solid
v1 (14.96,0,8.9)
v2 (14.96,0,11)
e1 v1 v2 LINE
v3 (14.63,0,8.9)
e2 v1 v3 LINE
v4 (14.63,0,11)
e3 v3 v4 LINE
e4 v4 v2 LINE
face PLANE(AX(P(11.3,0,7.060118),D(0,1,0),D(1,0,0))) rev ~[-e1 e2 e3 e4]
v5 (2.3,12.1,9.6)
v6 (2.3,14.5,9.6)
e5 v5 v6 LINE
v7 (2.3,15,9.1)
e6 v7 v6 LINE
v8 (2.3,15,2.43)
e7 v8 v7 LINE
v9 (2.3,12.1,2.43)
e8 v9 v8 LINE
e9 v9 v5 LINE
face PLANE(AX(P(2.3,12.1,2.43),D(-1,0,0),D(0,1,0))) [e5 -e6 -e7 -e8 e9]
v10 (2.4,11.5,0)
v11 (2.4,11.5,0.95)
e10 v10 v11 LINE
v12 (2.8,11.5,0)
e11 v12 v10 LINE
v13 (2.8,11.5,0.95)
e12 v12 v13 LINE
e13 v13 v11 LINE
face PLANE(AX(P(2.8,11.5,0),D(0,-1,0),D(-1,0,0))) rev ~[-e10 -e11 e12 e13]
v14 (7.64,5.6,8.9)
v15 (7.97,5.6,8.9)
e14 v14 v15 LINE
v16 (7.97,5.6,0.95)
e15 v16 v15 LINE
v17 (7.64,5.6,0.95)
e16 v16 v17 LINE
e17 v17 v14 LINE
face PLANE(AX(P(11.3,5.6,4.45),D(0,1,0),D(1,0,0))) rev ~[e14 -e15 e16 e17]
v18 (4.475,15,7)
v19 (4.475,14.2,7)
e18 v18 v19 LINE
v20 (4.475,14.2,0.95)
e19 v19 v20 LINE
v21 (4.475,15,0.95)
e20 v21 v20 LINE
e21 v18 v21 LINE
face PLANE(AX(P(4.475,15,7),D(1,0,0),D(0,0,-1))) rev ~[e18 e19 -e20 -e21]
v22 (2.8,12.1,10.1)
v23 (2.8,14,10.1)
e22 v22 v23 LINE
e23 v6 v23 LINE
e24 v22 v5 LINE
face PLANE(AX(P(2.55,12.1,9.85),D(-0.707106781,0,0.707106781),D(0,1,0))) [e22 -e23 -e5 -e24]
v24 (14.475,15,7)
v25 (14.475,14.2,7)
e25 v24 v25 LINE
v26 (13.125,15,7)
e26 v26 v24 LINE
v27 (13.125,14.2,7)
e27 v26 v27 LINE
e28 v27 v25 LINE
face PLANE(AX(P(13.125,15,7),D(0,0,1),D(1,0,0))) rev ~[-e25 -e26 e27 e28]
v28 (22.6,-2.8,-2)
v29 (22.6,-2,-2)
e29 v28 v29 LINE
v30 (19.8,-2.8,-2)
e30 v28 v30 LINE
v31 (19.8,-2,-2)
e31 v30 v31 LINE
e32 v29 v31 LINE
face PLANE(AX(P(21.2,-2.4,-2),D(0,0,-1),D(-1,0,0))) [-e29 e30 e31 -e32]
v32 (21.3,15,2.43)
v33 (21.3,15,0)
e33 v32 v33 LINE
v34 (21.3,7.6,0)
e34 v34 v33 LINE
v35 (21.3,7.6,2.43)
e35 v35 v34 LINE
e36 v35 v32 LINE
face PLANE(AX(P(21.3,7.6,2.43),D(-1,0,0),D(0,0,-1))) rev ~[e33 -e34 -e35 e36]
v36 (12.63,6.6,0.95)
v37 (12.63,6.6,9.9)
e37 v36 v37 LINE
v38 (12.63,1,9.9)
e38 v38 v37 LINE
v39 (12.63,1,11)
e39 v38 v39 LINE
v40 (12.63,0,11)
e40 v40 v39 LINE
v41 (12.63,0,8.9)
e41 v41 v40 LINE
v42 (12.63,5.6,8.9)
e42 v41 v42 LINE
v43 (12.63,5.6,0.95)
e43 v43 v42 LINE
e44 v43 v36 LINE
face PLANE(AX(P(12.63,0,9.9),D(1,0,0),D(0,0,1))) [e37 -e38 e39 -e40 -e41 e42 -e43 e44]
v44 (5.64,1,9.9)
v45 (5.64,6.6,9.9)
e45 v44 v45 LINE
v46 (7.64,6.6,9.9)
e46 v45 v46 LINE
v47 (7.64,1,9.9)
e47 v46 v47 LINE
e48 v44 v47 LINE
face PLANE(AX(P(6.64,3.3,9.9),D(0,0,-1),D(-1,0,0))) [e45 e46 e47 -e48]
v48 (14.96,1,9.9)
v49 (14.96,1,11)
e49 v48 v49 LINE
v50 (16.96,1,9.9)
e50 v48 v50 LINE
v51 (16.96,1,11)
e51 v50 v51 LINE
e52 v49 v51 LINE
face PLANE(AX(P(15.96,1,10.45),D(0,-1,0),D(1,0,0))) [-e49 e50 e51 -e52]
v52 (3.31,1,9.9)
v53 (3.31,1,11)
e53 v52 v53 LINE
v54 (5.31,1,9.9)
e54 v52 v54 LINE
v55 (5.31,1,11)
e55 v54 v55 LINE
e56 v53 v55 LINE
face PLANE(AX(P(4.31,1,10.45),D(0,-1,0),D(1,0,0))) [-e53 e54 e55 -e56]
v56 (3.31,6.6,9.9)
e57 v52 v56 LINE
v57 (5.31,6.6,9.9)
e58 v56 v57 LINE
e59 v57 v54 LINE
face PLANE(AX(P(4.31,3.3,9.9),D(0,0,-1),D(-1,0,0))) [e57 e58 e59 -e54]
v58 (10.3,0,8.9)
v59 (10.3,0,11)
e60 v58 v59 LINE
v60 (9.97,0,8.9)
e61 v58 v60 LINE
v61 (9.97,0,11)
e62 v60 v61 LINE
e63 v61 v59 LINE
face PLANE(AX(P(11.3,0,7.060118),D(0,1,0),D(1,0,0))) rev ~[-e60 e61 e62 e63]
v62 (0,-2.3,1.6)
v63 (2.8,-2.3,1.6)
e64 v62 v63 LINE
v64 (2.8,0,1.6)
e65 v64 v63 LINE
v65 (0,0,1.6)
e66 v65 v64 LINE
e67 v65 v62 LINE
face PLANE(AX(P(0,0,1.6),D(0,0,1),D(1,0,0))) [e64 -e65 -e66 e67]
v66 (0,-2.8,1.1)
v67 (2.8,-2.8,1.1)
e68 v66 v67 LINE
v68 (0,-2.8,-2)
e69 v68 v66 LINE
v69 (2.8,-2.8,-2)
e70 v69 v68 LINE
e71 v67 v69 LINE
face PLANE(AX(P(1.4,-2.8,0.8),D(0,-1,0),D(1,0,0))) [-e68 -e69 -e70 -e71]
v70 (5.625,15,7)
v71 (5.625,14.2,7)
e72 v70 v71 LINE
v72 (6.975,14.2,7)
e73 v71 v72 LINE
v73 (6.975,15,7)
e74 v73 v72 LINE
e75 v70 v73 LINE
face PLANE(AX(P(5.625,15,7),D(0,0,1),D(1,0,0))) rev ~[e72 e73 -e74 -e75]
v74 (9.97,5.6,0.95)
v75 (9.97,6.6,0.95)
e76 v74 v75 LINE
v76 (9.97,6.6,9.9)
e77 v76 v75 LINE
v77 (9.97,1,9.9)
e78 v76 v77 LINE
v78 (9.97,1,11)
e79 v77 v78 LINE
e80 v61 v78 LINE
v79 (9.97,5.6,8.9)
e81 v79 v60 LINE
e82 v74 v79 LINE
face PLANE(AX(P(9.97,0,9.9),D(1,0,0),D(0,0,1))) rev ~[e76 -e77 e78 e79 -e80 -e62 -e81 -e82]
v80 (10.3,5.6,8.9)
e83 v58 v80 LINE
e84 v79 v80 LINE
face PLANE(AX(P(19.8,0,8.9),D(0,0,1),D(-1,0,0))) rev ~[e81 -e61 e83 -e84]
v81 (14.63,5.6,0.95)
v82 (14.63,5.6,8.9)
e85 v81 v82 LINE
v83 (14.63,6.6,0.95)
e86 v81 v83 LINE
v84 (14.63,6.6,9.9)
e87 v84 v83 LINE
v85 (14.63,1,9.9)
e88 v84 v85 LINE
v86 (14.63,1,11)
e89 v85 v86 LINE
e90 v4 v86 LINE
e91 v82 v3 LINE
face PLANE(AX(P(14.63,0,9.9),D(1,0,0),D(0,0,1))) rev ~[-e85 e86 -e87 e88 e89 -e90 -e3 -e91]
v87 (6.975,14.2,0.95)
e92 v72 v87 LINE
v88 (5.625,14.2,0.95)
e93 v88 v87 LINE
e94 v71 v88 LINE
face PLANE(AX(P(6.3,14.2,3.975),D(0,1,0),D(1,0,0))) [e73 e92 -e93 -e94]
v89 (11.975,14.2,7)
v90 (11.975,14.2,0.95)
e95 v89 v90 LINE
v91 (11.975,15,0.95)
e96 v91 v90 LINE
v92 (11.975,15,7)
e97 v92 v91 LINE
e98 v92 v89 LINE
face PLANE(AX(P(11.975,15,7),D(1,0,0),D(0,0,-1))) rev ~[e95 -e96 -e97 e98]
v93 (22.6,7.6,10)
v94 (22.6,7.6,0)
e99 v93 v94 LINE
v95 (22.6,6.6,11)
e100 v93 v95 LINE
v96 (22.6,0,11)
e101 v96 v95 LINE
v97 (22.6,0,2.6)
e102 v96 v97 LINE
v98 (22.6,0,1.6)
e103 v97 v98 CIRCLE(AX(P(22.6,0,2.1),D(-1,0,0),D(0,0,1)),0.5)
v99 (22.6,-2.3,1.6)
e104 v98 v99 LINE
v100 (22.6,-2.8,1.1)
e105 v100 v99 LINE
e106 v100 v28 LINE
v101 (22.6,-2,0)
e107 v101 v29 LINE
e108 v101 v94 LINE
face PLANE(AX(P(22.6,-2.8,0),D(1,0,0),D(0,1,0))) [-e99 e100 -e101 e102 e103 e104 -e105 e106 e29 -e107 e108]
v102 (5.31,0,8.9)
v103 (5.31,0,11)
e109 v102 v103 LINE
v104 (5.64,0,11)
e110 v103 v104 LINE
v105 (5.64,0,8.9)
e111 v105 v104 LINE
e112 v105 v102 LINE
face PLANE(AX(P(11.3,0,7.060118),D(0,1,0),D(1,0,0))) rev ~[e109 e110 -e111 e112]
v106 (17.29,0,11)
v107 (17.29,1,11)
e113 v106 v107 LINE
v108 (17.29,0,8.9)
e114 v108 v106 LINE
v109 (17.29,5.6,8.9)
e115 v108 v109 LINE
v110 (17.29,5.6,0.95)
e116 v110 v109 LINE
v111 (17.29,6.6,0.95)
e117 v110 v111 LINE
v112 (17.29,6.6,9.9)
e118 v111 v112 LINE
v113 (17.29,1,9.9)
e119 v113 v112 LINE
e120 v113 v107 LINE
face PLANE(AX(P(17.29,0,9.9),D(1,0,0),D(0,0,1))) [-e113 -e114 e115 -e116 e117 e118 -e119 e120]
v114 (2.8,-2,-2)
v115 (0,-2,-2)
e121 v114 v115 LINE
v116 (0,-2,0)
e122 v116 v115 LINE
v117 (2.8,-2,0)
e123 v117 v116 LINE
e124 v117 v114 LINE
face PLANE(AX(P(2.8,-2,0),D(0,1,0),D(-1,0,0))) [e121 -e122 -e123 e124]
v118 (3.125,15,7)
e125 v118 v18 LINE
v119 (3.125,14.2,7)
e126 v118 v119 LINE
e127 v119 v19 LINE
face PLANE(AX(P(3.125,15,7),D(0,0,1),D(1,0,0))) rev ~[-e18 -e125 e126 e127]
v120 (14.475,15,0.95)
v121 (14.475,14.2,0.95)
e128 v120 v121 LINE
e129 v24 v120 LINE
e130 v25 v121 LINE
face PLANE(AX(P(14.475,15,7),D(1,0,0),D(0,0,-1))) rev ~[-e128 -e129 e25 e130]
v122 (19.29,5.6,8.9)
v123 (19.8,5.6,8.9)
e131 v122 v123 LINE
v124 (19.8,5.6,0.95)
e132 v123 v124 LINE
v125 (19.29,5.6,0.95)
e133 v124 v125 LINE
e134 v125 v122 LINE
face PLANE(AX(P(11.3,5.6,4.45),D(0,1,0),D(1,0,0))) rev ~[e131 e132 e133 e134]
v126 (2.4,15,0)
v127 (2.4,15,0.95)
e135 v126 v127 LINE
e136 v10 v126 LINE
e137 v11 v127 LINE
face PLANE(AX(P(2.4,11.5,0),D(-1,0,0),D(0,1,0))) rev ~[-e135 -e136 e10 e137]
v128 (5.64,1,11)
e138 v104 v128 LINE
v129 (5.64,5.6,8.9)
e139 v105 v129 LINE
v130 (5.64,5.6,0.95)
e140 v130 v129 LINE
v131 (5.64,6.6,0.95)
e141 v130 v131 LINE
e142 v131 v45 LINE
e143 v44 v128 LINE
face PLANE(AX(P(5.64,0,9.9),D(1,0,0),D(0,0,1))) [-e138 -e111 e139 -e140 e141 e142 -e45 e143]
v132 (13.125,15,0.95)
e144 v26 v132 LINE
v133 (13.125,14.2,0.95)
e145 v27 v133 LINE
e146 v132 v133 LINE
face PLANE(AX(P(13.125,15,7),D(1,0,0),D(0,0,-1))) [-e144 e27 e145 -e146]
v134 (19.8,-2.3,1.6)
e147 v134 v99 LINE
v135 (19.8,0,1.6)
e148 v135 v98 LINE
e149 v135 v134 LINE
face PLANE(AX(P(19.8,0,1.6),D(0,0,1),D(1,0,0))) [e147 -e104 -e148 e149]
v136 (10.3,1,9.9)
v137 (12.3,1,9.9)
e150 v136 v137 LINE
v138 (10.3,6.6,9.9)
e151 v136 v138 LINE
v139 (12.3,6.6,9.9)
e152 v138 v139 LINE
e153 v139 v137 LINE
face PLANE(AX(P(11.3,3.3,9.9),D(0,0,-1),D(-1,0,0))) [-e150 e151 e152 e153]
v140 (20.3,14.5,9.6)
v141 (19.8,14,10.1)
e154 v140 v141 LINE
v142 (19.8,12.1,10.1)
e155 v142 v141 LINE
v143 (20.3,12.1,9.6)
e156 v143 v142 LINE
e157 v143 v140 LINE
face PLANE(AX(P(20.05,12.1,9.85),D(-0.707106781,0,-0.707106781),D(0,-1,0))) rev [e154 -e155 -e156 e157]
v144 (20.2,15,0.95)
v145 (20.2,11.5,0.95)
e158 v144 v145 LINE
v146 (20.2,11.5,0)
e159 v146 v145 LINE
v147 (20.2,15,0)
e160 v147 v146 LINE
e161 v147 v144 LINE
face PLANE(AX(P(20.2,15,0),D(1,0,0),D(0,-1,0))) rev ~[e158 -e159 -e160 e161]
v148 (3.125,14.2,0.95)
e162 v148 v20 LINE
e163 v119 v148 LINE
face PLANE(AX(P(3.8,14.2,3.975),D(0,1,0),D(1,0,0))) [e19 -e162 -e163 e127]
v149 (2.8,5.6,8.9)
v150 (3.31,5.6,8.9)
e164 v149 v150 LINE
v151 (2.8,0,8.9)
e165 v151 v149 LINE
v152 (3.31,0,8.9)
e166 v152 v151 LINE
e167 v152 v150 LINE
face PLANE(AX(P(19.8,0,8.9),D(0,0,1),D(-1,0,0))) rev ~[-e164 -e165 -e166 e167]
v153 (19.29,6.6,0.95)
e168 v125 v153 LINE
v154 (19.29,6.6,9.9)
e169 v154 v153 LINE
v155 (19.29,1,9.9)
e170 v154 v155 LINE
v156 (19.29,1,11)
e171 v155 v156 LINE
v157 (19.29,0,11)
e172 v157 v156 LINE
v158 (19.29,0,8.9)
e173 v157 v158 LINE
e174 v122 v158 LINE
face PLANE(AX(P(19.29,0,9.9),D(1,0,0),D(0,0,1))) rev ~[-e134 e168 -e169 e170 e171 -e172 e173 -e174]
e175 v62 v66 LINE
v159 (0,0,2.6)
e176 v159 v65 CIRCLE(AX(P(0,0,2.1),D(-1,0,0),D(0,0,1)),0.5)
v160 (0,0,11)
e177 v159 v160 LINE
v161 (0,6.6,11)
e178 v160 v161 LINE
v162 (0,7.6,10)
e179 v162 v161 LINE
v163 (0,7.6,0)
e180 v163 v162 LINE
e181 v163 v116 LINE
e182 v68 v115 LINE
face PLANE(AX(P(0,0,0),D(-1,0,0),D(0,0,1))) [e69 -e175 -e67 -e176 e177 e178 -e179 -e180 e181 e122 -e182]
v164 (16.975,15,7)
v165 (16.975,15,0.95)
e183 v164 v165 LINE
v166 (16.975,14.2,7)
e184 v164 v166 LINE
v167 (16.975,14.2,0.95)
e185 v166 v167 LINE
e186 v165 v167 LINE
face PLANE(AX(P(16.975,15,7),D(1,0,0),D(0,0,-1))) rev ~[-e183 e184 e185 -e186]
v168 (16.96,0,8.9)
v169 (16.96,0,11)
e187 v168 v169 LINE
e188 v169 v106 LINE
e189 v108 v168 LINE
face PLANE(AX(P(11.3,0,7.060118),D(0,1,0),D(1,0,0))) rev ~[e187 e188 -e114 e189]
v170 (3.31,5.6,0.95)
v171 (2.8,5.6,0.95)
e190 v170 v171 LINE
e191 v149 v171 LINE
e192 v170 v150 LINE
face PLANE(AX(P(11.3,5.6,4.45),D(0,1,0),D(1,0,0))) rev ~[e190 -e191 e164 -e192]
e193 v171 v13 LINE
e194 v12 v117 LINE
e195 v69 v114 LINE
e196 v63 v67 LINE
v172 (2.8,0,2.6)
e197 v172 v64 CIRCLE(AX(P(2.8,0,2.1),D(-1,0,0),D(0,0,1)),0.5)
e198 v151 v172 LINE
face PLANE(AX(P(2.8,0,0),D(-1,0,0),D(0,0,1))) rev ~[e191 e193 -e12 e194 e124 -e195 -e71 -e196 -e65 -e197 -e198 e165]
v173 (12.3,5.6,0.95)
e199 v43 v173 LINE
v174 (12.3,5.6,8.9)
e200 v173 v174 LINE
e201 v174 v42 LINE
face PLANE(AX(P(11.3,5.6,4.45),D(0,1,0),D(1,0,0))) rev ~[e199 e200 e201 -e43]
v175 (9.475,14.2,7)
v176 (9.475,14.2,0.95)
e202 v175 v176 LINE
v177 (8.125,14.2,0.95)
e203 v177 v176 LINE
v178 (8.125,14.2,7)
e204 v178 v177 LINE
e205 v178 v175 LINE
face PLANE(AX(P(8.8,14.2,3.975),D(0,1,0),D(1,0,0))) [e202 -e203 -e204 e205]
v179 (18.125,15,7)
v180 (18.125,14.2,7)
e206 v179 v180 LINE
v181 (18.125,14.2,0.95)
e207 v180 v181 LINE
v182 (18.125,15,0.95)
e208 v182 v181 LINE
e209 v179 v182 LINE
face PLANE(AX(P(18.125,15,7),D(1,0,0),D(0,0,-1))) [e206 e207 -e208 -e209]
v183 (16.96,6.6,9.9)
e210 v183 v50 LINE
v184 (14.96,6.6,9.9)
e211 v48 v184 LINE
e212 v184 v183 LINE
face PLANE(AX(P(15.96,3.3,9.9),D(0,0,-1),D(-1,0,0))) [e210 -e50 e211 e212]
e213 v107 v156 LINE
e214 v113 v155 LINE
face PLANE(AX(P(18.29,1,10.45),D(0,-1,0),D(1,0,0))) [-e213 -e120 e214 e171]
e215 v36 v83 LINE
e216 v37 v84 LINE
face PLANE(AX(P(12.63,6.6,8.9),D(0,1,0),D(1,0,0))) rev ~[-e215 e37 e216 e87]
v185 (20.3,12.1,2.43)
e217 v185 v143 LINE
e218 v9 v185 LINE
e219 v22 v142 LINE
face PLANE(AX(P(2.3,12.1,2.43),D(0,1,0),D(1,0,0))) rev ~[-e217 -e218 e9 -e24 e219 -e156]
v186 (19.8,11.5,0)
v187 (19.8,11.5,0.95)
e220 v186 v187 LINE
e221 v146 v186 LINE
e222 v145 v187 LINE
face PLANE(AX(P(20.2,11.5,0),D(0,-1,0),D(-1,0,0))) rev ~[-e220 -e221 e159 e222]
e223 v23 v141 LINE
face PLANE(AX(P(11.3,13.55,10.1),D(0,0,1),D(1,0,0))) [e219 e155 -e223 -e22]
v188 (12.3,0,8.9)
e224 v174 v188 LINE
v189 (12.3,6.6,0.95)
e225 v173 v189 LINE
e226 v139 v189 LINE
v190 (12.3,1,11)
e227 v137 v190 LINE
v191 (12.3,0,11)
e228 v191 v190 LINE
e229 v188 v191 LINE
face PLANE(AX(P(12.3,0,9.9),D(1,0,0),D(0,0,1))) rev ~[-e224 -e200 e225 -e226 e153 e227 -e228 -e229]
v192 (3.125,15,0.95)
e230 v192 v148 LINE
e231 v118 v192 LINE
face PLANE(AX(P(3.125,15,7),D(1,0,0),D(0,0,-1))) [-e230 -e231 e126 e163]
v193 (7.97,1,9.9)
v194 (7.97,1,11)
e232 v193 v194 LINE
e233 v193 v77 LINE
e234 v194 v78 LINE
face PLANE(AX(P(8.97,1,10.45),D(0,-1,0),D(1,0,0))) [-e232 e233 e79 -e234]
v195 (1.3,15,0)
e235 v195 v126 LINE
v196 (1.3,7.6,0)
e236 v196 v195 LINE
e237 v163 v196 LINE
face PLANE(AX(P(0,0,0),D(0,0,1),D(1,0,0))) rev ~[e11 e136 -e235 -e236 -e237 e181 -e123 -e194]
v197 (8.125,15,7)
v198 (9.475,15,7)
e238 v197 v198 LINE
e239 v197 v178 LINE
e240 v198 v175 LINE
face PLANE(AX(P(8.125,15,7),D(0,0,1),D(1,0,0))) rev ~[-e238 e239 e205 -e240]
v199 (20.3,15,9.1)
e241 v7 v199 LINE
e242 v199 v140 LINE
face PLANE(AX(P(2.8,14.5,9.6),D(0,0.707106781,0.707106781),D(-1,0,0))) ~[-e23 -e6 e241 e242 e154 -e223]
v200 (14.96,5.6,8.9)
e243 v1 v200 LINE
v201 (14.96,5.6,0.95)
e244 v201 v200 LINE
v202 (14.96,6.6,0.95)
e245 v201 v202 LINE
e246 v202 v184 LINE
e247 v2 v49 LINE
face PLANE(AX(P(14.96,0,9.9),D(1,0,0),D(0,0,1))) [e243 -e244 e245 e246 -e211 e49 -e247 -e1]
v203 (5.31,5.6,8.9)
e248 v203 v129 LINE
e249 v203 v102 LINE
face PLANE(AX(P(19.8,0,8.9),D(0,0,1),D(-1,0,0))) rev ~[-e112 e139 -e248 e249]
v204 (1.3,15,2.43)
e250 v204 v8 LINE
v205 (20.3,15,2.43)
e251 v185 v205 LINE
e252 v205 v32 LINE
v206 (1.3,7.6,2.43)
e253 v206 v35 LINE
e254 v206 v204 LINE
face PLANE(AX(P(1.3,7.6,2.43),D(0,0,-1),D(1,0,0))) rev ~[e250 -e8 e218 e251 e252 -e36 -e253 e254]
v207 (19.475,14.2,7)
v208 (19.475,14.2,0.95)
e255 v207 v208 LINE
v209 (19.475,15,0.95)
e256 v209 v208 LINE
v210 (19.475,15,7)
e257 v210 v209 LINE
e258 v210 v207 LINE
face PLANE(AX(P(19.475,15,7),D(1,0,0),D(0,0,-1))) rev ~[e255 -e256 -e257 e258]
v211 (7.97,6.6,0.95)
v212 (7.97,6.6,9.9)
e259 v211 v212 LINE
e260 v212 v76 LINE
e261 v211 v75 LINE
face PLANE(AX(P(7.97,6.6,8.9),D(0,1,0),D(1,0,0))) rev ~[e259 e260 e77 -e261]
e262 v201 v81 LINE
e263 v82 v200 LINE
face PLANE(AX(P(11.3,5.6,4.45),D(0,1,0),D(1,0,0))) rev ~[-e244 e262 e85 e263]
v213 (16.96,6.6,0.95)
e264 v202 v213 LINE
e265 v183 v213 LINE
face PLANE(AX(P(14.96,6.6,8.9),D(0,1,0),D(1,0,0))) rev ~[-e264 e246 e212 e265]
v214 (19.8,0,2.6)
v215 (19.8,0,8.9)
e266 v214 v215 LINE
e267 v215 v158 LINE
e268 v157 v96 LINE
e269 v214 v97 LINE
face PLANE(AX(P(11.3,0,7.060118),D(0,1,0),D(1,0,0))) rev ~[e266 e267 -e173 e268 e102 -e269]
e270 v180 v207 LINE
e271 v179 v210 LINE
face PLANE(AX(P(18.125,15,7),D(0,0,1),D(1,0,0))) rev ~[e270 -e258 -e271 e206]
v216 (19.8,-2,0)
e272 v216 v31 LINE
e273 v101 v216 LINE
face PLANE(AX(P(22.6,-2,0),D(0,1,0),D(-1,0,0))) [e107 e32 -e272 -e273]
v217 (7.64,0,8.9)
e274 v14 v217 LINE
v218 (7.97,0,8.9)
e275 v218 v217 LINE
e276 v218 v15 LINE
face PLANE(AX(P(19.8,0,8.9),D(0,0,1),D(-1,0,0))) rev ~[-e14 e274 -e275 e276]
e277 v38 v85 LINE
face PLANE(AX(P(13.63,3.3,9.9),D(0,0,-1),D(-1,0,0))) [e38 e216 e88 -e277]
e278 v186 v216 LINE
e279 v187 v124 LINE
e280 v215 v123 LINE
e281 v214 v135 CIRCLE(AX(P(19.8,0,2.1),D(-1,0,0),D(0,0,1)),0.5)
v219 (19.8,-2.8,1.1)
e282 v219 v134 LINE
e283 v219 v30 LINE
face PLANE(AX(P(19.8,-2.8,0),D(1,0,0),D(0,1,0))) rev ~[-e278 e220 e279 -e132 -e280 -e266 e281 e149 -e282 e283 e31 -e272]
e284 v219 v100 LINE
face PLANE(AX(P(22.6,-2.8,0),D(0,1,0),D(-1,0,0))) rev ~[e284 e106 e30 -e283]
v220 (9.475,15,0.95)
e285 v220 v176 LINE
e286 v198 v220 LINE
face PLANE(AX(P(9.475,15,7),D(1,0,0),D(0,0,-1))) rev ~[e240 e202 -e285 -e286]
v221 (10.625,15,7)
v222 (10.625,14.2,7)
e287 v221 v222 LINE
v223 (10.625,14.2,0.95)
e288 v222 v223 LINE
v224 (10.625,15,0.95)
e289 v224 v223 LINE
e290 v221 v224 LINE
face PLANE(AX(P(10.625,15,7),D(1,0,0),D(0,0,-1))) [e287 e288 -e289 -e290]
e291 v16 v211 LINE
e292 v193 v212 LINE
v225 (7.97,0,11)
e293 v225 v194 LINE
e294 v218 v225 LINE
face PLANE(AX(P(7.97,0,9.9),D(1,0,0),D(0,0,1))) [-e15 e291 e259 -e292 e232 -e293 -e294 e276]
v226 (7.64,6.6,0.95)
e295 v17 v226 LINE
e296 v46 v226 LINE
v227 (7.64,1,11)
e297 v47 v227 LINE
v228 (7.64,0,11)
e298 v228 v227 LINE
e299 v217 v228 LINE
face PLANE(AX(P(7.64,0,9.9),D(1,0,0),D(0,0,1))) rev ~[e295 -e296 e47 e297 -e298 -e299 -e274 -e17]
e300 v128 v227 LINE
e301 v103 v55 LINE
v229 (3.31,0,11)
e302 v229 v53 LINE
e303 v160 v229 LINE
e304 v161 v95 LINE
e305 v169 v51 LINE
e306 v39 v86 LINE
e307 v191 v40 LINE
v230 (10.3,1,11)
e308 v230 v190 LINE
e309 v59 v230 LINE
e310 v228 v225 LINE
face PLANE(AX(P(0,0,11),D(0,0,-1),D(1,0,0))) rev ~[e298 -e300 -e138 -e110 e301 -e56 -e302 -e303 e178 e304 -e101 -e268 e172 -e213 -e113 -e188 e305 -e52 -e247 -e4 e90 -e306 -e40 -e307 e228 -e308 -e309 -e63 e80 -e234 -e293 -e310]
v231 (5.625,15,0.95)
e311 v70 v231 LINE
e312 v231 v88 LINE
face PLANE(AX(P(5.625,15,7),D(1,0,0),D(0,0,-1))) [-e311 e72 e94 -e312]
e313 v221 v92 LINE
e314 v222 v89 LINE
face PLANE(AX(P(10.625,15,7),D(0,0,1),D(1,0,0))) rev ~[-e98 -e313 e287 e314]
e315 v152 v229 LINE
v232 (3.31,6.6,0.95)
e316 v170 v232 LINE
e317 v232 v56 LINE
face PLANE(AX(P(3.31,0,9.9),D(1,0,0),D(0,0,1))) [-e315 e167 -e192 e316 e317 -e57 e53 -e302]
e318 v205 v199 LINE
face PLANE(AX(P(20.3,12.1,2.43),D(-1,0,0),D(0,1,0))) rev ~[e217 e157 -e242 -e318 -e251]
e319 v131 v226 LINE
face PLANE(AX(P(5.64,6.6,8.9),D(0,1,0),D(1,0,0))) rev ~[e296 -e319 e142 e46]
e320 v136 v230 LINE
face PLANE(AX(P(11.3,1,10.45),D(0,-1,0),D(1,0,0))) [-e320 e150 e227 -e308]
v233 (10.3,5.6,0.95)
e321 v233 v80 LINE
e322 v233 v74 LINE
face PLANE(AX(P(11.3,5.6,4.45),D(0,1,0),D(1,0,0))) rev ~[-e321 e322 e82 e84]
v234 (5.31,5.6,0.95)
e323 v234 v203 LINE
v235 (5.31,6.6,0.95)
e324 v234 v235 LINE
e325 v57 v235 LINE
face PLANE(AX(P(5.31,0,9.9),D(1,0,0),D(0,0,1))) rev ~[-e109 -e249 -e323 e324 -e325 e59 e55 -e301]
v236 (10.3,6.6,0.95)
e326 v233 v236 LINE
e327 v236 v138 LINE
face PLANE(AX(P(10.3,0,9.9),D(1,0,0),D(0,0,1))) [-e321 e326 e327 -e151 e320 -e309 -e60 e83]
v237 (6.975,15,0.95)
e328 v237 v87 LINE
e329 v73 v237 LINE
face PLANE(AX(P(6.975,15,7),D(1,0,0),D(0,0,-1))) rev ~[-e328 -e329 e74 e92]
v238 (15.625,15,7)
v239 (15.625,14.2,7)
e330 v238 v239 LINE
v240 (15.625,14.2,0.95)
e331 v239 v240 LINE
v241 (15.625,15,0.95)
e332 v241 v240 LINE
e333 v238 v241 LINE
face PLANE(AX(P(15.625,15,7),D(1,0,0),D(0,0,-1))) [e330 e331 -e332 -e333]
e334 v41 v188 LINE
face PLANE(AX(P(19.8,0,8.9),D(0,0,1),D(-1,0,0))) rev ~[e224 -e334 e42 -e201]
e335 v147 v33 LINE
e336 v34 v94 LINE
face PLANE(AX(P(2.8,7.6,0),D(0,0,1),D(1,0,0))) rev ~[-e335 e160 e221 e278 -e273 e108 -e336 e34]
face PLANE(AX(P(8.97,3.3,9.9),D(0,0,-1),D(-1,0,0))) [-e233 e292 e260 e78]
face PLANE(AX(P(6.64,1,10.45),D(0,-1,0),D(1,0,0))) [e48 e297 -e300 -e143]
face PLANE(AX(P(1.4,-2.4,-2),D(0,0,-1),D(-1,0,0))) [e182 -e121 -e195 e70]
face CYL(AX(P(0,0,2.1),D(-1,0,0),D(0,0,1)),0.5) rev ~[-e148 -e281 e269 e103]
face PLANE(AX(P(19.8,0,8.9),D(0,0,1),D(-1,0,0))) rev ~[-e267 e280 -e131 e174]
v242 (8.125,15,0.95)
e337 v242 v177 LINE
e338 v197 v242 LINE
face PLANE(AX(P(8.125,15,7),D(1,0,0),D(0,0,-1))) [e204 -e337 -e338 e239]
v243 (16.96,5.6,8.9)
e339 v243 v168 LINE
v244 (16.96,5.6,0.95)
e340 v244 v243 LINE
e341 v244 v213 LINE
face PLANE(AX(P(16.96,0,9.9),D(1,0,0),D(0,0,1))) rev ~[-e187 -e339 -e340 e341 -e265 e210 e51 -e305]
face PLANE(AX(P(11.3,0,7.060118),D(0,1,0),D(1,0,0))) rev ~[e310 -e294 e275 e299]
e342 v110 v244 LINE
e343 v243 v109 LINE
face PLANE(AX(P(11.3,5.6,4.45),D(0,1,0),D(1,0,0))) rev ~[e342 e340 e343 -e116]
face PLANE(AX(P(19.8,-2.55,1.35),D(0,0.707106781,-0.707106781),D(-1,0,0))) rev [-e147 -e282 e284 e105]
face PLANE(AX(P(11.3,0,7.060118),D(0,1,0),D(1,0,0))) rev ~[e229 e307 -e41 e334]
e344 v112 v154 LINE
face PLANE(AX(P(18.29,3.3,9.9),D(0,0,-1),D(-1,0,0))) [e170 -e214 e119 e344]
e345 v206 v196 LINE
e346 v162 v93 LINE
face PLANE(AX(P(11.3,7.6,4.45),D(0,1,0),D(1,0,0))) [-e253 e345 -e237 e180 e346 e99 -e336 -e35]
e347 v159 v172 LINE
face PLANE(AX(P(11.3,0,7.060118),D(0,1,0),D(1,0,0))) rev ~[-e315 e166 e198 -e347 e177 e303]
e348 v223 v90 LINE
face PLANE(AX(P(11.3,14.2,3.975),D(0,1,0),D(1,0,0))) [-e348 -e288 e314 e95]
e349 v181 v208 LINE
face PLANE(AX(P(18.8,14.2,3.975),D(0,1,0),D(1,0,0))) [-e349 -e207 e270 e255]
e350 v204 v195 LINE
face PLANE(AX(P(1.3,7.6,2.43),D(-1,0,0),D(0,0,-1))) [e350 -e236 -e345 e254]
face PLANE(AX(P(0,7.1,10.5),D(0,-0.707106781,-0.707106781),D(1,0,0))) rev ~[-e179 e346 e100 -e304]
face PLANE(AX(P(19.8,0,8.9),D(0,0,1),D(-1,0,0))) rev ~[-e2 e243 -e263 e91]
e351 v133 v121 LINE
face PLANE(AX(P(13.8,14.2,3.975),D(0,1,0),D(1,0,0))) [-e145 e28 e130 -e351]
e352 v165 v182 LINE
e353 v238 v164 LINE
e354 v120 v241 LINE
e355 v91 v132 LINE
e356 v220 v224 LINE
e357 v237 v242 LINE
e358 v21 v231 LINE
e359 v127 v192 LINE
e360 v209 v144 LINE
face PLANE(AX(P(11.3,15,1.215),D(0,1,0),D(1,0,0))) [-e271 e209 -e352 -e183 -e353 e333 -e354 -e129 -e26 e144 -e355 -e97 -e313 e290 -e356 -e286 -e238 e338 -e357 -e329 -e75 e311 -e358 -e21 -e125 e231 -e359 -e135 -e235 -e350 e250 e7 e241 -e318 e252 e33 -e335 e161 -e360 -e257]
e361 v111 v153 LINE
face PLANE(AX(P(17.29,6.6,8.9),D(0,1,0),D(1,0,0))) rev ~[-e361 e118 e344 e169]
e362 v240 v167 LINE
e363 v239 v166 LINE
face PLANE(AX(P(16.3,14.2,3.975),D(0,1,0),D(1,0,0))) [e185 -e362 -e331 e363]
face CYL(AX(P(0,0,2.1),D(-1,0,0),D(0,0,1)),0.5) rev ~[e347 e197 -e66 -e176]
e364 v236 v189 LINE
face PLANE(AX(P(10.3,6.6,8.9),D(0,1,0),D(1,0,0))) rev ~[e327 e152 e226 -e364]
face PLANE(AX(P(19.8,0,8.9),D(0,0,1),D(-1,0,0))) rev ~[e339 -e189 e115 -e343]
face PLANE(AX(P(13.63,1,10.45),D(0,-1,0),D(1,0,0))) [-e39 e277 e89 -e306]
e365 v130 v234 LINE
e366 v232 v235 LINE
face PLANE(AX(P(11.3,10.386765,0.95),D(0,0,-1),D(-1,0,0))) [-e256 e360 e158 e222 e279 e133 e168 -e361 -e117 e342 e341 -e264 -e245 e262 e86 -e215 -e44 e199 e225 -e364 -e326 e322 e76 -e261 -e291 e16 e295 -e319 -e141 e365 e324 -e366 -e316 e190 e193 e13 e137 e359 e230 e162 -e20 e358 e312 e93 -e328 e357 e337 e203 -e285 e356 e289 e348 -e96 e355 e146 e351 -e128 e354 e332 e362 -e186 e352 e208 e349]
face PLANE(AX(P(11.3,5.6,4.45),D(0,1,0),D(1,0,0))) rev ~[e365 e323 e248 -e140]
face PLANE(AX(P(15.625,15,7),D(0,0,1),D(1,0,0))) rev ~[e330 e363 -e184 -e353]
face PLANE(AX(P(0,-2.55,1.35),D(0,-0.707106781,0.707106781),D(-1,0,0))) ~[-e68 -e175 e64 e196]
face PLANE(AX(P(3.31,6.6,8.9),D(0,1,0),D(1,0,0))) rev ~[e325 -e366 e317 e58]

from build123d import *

# Parameters (mm, degrees)
BOSS_EXTRUDE1_DEPTH = 7.6
SKETCH2_W           = 17
SKETCH2_H           = 8.9
BOSS_EXTRUDE2_DEPTH = 2
SKETCH3_W           = 20
SKETCH3_H           = 2.43
BOSS_EXTRUDE3_DEPTH = 7.4
SKETCH4_W           = 18
SKETCH4_H           = 2.9
BOSS_EXTRUDE4_DEPTH = 7.67
CUT_EXTRUDE1_DEPTH  = 0.95
SKETCH6_W           = 1.35
SKETCH6_H           = 6.05
CUT_EXTRUDE2_DEPTH  = 0.8
CHAMFER1_SIZE       = 0.5
CHAMFER2_SIZE       = 1
CHAMFER3_SIZE       = 1
SKETCH7_W           = 2.8
SKETCH7_H           = 1.6
BOSS_EXTRUDE5_DEPTH = 2.8
SKETCH8_W           = 2.8
SKETCH8_H           = 0.8
BOSS_EXTRUDE6_DEPTH = 2
CUT_EXTRUDE3_DEPTH  = 30.270462928
CHAMFER4_SIZE       = 0.5
SKETCH10_W          = 2
SKETCH10_H          = 7.95
SKETCH10_W_2        = 1
CUT_EXTRUDE4_DEPTH  = 1
CUT_EXTRUDE5_DEPTH  = 1
SKETCH12_W          = 2
SKETCH12_H          = 1.1
CUT_EXTRUDE6_DEPTH  = 1


with BuildPart() as part:
    # Sketch1 → Boss-Extrude1 (new body)
    with BuildSketch(Plane(origin=(0, 0, 0), x_dir=(1, 0, 0), z_dir=(0, 1, 0))):
        Polygon((0, 0), (0, -11), (22.6, -11), (22.6, 0), (19.8, 0), (19.8, -8.9), (2.8, -8.9), (2.8, 0), align=None)
    extrude(amount=BOSS_EXTRUDE1_DEPTH)

    # Sketch2 → Boss-Extrude2 (add)
    with BuildSketch(Plane(origin=(0, 7.6, 0), x_dir=(1, 0, 0), z_dir=(0, 1, 0))):
        with Locations((11.3, -4.45)):
            Rectangle(SKETCH2_W, SKETCH2_H)
    extrude(amount=-BOSS_EXTRUDE2_DEPTH)

    # Sketch3 → Boss-Extrude3 (add)
    with BuildSketch(Plane(origin=(0, 7.6, 0), x_dir=(1, 0, 0), z_dir=(0, 1, 0))):
        with Locations((11.3, -1.215)):
            Rectangle(SKETCH3_W, SKETCH3_H)
    extrude(amount=BOSS_EXTRUDE3_DEPTH)

    # Sketch4 → Boss-Extrude4 (add)
    with BuildSketch(Plane.XY.offset(2.43)):
        with Locations((11.3, 13.55)):
            Rectangle(SKETCH4_W, SKETCH4_H)
    extrude(amount=BOSS_EXTRUDE4_DEPTH)

    # Sketch5 → Cut-Extrude1 (cut)
    with BuildSketch(Plane(origin=(0, 0, 0), x_dir=(-1, 0, 0), z_dir=(0, 0, -1))):
        Polygon((-19.8, 11.5), (-19.8, 5.6), (-2.8, 5.6), (-2.8, 11.5), (-2.4, 11.5), (-2.4, 15), (-20.2, 15), (-20.2, 11.5), align=None)
    extrude(amount=-CUT_EXTRUDE1_DEPTH, mode=Mode.SUBTRACT)

    # Sketch6 → Cut-Extrude2 (cut)
    with BuildSketch(Plane(origin=(0, 15, 0), x_dir=(1, 0, 0), z_dir=(0, 1, 0))):
        with Locations((3.8, -3.975)):
            Rectangle(SKETCH6_W, SKETCH6_H)
        with Locations((6.3, -3.975)):
            Rectangle(SKETCH6_W, SKETCH6_H)
        with Locations((8.8, -3.975)):
            Rectangle(SKETCH6_W, SKETCH6_H)
        with Locations((11.3, -3.975)):
            Rectangle(SKETCH6_W, SKETCH6_H)
        with Locations((13.8, -3.975)):
            Rectangle(SKETCH6_W, SKETCH6_H)
        with Locations((16.3, -3.975)):
            Rectangle(SKETCH6_W, SKETCH6_H)
        with Locations((18.8, -3.975)):
            Rectangle(SKETCH6_W, SKETCH6_H)
    extrude(amount=-CUT_EXTRUDE2_DEPTH, mode=Mode.SUBTRACT)

    # Chamfer1
    chamfer1_edges = [part.edges().sort_by_distance(p)[0] for p in [
        (20.3, 13.55, 10.1),
        (2.3, 13.55, 10.1),
    ]]
    chamfer(chamfer1_edges, length=CHAMFER1_SIZE)

    # Chamfer2
    chamfer2_edges = [part.edges().sort_by_distance(p)[0] for p in [
        (11.3, 15, 10.1),
    ]]
    chamfer(chamfer2_edges, length=CHAMFER2_SIZE)

    # Chamfer3
    chamfer3_edges = [part.edges().sort_by_distance(p)[0] for p in [
        (11.3, 7.6, 11),
    ]]
    chamfer(chamfer3_edges, length=CHAMFER3_SIZE)

    # Sketch7 → Boss-Extrude5 (add)
    with BuildSketch(Plane.XZ):
        with Locations((1.4, 0.8)):
            Rectangle(SKETCH7_W, SKETCH7_H)
        with Locations((21.2, 0.8)):
            Rectangle(SKETCH7_W, SKETCH7_H)
    extrude(amount=BOSS_EXTRUDE5_DEPTH)

    # Sketch8 → Boss-Extrude6 (add)
    with BuildSketch(Plane(origin=(0, 0, 0), x_dir=(-1, 0, 0), z_dir=(0, 0, -1))):
        with Locations((-21.2, -2.4)):
            Rectangle(SKETCH8_W, SKETCH8_H)
        with Locations((-1.4, -2.4)):
            Rectangle(SKETCH8_W, SKETCH8_H)
    extrude(amount=BOSS_EXTRUDE6_DEPTH)

    # Sketch9 → Cut-Extrude3 (cut, through all)
    with BuildSketch(Plane.ZY):
        with BuildLine():
            ThreePointArc((1.6, 0), (2.1, -0.5), (2.6, 0))
            Line((2.6, 0), (1.6, 0))
        make_face()
        with BuildLine():
            Line((1.6, 0), (2.6, 0))
            ThreePointArc((2.6, 0), (2.1, 0.5), (1.6, 0))
        make_face()
    extrude(amount=-CUT_EXTRUDE3_DEPTH, mode=Mode.SUBTRACT)

    # Chamfer4
    chamfer4_edges = [part.edges().sort_by_distance(p)[0] for p in [
        (1.4, -2.8, 1.6),
        (21.2, -2.8, 1.6),
    ]]
    chamfer(chamfer4_edges, length=CHAMFER4_SIZE)

    # Sketch10 → Cut-Extrude4 (cut)
    with BuildSketch(Plane.XZ.offset(-5.6)):
        with Locations((4.31, 4.925)):
            Rectangle(SKETCH10_W, SKETCH10_H)
        with Locations((6.64, 4.925)):
            Rectangle(SKETCH10_W, SKETCH10_H)
        with Locations((8.97, 4.925)):
            Rectangle(SKETCH10_W, SKETCH10_H)
        with Locations((11.8, 4.925)):
            Rectangle(SKETCH10_W_2, SKETCH10_H)
        with Locations((10.8, 4.925)):
            Rectangle(SKETCH10_W_2, SKETCH10_H)
        with Locations((13.63, 4.925)):
            Rectangle(SKETCH10_W, SKETCH10_H)
        with Locations((15.96, 4.925)):
            Rectangle(SKETCH10_W, SKETCH10_H)
        with Locations((18.29, 4.925)):
            Rectangle(SKETCH10_W, SKETCH10_H)
    extrude(amount=-CUT_EXTRUDE4_DEPTH, mode=Mode.SUBTRACT)

    # Sketch11 → Cut-Extrude5 (cut)
    with BuildSketch(Plane(origin=(0, 0, 8.9), x_dir=(-1, 0, 0), z_dir=(0, 0, -1))):
        Polygon((-19.29, 6.6), (-19.29, 5.6), (-19.29, 0), (-17.29, 0), (-17.29, 5.6), (-17.29, 6.6), align=None)
        Polygon((-16.96, 5.6), (-16.96, 0), (-14.96, 0), (-14.96, 5.6), (-14.96, 6.6), (-16.96, 6.6), align=None)
        Polygon((-14.63, 5.6), (-14.63, 0), (-12.63, 0), (-12.63, 5.6), (-12.63, 6.6), (-14.63, 6.6), align=None)
        Polygon((-12.3, 5.6), (-12.3, 0), (-10.3, 0), (-10.3, 5.6), (-10.3, 6.6), (-12.3, 6.6), align=None)
        Polygon((-9.97, 5.6), (-9.97, 0), (-7.97, 0), (-7.97, 5.6), (-7.97, 6.6), (-9.97, 6.6), align=None)
        Polygon((-7.64, 5.6), (-7.64, 0), (-5.64, 0), (-5.64, 5.6), (-5.64, 6.6), (-7.64, 6.6), align=None)
        Polygon((-5.31, 5.6), (-5.31, 0), (-3.31, 0), (-3.31, 5.6), (-3.31, 6.6), (-5.31, 6.6), align=None)
    extrude(amount=-CUT_EXTRUDE5_DEPTH, mode=Mode.SUBTRACT)

    # Sketch12 → Cut-Extrude6 (cut)
    with BuildSketch(Plane.XZ):
        with Locations((4.31, 10.45)):
            Rectangle(SKETCH12_W, SKETCH12_H)
        with Locations((6.64, 10.45)):
            Rectangle(SKETCH12_W, SKETCH12_H)
        with Locations((8.97, 10.45)):
            Rectangle(SKETCH12_W, SKETCH12_H)
        with Locations((11.3, 10.45)):
            Rectangle(SKETCH12_W, SKETCH12_H)
        with Locations((13.63, 10.45)):
            Rectangle(SKETCH12_W, SKETCH12_H)
        with Locations((15.96, 10.45)):
            Rectangle(SKETCH12_W, SKETCH12_H)
        with Locations((18.29, 10.45)):
            Rectangle(SKETCH12_W, SKETCH12_H)
    extrude(amount=-CUT_EXTRUDE6_DEPTH, mode=Mode.SUBTRACT)


solid = part.part
